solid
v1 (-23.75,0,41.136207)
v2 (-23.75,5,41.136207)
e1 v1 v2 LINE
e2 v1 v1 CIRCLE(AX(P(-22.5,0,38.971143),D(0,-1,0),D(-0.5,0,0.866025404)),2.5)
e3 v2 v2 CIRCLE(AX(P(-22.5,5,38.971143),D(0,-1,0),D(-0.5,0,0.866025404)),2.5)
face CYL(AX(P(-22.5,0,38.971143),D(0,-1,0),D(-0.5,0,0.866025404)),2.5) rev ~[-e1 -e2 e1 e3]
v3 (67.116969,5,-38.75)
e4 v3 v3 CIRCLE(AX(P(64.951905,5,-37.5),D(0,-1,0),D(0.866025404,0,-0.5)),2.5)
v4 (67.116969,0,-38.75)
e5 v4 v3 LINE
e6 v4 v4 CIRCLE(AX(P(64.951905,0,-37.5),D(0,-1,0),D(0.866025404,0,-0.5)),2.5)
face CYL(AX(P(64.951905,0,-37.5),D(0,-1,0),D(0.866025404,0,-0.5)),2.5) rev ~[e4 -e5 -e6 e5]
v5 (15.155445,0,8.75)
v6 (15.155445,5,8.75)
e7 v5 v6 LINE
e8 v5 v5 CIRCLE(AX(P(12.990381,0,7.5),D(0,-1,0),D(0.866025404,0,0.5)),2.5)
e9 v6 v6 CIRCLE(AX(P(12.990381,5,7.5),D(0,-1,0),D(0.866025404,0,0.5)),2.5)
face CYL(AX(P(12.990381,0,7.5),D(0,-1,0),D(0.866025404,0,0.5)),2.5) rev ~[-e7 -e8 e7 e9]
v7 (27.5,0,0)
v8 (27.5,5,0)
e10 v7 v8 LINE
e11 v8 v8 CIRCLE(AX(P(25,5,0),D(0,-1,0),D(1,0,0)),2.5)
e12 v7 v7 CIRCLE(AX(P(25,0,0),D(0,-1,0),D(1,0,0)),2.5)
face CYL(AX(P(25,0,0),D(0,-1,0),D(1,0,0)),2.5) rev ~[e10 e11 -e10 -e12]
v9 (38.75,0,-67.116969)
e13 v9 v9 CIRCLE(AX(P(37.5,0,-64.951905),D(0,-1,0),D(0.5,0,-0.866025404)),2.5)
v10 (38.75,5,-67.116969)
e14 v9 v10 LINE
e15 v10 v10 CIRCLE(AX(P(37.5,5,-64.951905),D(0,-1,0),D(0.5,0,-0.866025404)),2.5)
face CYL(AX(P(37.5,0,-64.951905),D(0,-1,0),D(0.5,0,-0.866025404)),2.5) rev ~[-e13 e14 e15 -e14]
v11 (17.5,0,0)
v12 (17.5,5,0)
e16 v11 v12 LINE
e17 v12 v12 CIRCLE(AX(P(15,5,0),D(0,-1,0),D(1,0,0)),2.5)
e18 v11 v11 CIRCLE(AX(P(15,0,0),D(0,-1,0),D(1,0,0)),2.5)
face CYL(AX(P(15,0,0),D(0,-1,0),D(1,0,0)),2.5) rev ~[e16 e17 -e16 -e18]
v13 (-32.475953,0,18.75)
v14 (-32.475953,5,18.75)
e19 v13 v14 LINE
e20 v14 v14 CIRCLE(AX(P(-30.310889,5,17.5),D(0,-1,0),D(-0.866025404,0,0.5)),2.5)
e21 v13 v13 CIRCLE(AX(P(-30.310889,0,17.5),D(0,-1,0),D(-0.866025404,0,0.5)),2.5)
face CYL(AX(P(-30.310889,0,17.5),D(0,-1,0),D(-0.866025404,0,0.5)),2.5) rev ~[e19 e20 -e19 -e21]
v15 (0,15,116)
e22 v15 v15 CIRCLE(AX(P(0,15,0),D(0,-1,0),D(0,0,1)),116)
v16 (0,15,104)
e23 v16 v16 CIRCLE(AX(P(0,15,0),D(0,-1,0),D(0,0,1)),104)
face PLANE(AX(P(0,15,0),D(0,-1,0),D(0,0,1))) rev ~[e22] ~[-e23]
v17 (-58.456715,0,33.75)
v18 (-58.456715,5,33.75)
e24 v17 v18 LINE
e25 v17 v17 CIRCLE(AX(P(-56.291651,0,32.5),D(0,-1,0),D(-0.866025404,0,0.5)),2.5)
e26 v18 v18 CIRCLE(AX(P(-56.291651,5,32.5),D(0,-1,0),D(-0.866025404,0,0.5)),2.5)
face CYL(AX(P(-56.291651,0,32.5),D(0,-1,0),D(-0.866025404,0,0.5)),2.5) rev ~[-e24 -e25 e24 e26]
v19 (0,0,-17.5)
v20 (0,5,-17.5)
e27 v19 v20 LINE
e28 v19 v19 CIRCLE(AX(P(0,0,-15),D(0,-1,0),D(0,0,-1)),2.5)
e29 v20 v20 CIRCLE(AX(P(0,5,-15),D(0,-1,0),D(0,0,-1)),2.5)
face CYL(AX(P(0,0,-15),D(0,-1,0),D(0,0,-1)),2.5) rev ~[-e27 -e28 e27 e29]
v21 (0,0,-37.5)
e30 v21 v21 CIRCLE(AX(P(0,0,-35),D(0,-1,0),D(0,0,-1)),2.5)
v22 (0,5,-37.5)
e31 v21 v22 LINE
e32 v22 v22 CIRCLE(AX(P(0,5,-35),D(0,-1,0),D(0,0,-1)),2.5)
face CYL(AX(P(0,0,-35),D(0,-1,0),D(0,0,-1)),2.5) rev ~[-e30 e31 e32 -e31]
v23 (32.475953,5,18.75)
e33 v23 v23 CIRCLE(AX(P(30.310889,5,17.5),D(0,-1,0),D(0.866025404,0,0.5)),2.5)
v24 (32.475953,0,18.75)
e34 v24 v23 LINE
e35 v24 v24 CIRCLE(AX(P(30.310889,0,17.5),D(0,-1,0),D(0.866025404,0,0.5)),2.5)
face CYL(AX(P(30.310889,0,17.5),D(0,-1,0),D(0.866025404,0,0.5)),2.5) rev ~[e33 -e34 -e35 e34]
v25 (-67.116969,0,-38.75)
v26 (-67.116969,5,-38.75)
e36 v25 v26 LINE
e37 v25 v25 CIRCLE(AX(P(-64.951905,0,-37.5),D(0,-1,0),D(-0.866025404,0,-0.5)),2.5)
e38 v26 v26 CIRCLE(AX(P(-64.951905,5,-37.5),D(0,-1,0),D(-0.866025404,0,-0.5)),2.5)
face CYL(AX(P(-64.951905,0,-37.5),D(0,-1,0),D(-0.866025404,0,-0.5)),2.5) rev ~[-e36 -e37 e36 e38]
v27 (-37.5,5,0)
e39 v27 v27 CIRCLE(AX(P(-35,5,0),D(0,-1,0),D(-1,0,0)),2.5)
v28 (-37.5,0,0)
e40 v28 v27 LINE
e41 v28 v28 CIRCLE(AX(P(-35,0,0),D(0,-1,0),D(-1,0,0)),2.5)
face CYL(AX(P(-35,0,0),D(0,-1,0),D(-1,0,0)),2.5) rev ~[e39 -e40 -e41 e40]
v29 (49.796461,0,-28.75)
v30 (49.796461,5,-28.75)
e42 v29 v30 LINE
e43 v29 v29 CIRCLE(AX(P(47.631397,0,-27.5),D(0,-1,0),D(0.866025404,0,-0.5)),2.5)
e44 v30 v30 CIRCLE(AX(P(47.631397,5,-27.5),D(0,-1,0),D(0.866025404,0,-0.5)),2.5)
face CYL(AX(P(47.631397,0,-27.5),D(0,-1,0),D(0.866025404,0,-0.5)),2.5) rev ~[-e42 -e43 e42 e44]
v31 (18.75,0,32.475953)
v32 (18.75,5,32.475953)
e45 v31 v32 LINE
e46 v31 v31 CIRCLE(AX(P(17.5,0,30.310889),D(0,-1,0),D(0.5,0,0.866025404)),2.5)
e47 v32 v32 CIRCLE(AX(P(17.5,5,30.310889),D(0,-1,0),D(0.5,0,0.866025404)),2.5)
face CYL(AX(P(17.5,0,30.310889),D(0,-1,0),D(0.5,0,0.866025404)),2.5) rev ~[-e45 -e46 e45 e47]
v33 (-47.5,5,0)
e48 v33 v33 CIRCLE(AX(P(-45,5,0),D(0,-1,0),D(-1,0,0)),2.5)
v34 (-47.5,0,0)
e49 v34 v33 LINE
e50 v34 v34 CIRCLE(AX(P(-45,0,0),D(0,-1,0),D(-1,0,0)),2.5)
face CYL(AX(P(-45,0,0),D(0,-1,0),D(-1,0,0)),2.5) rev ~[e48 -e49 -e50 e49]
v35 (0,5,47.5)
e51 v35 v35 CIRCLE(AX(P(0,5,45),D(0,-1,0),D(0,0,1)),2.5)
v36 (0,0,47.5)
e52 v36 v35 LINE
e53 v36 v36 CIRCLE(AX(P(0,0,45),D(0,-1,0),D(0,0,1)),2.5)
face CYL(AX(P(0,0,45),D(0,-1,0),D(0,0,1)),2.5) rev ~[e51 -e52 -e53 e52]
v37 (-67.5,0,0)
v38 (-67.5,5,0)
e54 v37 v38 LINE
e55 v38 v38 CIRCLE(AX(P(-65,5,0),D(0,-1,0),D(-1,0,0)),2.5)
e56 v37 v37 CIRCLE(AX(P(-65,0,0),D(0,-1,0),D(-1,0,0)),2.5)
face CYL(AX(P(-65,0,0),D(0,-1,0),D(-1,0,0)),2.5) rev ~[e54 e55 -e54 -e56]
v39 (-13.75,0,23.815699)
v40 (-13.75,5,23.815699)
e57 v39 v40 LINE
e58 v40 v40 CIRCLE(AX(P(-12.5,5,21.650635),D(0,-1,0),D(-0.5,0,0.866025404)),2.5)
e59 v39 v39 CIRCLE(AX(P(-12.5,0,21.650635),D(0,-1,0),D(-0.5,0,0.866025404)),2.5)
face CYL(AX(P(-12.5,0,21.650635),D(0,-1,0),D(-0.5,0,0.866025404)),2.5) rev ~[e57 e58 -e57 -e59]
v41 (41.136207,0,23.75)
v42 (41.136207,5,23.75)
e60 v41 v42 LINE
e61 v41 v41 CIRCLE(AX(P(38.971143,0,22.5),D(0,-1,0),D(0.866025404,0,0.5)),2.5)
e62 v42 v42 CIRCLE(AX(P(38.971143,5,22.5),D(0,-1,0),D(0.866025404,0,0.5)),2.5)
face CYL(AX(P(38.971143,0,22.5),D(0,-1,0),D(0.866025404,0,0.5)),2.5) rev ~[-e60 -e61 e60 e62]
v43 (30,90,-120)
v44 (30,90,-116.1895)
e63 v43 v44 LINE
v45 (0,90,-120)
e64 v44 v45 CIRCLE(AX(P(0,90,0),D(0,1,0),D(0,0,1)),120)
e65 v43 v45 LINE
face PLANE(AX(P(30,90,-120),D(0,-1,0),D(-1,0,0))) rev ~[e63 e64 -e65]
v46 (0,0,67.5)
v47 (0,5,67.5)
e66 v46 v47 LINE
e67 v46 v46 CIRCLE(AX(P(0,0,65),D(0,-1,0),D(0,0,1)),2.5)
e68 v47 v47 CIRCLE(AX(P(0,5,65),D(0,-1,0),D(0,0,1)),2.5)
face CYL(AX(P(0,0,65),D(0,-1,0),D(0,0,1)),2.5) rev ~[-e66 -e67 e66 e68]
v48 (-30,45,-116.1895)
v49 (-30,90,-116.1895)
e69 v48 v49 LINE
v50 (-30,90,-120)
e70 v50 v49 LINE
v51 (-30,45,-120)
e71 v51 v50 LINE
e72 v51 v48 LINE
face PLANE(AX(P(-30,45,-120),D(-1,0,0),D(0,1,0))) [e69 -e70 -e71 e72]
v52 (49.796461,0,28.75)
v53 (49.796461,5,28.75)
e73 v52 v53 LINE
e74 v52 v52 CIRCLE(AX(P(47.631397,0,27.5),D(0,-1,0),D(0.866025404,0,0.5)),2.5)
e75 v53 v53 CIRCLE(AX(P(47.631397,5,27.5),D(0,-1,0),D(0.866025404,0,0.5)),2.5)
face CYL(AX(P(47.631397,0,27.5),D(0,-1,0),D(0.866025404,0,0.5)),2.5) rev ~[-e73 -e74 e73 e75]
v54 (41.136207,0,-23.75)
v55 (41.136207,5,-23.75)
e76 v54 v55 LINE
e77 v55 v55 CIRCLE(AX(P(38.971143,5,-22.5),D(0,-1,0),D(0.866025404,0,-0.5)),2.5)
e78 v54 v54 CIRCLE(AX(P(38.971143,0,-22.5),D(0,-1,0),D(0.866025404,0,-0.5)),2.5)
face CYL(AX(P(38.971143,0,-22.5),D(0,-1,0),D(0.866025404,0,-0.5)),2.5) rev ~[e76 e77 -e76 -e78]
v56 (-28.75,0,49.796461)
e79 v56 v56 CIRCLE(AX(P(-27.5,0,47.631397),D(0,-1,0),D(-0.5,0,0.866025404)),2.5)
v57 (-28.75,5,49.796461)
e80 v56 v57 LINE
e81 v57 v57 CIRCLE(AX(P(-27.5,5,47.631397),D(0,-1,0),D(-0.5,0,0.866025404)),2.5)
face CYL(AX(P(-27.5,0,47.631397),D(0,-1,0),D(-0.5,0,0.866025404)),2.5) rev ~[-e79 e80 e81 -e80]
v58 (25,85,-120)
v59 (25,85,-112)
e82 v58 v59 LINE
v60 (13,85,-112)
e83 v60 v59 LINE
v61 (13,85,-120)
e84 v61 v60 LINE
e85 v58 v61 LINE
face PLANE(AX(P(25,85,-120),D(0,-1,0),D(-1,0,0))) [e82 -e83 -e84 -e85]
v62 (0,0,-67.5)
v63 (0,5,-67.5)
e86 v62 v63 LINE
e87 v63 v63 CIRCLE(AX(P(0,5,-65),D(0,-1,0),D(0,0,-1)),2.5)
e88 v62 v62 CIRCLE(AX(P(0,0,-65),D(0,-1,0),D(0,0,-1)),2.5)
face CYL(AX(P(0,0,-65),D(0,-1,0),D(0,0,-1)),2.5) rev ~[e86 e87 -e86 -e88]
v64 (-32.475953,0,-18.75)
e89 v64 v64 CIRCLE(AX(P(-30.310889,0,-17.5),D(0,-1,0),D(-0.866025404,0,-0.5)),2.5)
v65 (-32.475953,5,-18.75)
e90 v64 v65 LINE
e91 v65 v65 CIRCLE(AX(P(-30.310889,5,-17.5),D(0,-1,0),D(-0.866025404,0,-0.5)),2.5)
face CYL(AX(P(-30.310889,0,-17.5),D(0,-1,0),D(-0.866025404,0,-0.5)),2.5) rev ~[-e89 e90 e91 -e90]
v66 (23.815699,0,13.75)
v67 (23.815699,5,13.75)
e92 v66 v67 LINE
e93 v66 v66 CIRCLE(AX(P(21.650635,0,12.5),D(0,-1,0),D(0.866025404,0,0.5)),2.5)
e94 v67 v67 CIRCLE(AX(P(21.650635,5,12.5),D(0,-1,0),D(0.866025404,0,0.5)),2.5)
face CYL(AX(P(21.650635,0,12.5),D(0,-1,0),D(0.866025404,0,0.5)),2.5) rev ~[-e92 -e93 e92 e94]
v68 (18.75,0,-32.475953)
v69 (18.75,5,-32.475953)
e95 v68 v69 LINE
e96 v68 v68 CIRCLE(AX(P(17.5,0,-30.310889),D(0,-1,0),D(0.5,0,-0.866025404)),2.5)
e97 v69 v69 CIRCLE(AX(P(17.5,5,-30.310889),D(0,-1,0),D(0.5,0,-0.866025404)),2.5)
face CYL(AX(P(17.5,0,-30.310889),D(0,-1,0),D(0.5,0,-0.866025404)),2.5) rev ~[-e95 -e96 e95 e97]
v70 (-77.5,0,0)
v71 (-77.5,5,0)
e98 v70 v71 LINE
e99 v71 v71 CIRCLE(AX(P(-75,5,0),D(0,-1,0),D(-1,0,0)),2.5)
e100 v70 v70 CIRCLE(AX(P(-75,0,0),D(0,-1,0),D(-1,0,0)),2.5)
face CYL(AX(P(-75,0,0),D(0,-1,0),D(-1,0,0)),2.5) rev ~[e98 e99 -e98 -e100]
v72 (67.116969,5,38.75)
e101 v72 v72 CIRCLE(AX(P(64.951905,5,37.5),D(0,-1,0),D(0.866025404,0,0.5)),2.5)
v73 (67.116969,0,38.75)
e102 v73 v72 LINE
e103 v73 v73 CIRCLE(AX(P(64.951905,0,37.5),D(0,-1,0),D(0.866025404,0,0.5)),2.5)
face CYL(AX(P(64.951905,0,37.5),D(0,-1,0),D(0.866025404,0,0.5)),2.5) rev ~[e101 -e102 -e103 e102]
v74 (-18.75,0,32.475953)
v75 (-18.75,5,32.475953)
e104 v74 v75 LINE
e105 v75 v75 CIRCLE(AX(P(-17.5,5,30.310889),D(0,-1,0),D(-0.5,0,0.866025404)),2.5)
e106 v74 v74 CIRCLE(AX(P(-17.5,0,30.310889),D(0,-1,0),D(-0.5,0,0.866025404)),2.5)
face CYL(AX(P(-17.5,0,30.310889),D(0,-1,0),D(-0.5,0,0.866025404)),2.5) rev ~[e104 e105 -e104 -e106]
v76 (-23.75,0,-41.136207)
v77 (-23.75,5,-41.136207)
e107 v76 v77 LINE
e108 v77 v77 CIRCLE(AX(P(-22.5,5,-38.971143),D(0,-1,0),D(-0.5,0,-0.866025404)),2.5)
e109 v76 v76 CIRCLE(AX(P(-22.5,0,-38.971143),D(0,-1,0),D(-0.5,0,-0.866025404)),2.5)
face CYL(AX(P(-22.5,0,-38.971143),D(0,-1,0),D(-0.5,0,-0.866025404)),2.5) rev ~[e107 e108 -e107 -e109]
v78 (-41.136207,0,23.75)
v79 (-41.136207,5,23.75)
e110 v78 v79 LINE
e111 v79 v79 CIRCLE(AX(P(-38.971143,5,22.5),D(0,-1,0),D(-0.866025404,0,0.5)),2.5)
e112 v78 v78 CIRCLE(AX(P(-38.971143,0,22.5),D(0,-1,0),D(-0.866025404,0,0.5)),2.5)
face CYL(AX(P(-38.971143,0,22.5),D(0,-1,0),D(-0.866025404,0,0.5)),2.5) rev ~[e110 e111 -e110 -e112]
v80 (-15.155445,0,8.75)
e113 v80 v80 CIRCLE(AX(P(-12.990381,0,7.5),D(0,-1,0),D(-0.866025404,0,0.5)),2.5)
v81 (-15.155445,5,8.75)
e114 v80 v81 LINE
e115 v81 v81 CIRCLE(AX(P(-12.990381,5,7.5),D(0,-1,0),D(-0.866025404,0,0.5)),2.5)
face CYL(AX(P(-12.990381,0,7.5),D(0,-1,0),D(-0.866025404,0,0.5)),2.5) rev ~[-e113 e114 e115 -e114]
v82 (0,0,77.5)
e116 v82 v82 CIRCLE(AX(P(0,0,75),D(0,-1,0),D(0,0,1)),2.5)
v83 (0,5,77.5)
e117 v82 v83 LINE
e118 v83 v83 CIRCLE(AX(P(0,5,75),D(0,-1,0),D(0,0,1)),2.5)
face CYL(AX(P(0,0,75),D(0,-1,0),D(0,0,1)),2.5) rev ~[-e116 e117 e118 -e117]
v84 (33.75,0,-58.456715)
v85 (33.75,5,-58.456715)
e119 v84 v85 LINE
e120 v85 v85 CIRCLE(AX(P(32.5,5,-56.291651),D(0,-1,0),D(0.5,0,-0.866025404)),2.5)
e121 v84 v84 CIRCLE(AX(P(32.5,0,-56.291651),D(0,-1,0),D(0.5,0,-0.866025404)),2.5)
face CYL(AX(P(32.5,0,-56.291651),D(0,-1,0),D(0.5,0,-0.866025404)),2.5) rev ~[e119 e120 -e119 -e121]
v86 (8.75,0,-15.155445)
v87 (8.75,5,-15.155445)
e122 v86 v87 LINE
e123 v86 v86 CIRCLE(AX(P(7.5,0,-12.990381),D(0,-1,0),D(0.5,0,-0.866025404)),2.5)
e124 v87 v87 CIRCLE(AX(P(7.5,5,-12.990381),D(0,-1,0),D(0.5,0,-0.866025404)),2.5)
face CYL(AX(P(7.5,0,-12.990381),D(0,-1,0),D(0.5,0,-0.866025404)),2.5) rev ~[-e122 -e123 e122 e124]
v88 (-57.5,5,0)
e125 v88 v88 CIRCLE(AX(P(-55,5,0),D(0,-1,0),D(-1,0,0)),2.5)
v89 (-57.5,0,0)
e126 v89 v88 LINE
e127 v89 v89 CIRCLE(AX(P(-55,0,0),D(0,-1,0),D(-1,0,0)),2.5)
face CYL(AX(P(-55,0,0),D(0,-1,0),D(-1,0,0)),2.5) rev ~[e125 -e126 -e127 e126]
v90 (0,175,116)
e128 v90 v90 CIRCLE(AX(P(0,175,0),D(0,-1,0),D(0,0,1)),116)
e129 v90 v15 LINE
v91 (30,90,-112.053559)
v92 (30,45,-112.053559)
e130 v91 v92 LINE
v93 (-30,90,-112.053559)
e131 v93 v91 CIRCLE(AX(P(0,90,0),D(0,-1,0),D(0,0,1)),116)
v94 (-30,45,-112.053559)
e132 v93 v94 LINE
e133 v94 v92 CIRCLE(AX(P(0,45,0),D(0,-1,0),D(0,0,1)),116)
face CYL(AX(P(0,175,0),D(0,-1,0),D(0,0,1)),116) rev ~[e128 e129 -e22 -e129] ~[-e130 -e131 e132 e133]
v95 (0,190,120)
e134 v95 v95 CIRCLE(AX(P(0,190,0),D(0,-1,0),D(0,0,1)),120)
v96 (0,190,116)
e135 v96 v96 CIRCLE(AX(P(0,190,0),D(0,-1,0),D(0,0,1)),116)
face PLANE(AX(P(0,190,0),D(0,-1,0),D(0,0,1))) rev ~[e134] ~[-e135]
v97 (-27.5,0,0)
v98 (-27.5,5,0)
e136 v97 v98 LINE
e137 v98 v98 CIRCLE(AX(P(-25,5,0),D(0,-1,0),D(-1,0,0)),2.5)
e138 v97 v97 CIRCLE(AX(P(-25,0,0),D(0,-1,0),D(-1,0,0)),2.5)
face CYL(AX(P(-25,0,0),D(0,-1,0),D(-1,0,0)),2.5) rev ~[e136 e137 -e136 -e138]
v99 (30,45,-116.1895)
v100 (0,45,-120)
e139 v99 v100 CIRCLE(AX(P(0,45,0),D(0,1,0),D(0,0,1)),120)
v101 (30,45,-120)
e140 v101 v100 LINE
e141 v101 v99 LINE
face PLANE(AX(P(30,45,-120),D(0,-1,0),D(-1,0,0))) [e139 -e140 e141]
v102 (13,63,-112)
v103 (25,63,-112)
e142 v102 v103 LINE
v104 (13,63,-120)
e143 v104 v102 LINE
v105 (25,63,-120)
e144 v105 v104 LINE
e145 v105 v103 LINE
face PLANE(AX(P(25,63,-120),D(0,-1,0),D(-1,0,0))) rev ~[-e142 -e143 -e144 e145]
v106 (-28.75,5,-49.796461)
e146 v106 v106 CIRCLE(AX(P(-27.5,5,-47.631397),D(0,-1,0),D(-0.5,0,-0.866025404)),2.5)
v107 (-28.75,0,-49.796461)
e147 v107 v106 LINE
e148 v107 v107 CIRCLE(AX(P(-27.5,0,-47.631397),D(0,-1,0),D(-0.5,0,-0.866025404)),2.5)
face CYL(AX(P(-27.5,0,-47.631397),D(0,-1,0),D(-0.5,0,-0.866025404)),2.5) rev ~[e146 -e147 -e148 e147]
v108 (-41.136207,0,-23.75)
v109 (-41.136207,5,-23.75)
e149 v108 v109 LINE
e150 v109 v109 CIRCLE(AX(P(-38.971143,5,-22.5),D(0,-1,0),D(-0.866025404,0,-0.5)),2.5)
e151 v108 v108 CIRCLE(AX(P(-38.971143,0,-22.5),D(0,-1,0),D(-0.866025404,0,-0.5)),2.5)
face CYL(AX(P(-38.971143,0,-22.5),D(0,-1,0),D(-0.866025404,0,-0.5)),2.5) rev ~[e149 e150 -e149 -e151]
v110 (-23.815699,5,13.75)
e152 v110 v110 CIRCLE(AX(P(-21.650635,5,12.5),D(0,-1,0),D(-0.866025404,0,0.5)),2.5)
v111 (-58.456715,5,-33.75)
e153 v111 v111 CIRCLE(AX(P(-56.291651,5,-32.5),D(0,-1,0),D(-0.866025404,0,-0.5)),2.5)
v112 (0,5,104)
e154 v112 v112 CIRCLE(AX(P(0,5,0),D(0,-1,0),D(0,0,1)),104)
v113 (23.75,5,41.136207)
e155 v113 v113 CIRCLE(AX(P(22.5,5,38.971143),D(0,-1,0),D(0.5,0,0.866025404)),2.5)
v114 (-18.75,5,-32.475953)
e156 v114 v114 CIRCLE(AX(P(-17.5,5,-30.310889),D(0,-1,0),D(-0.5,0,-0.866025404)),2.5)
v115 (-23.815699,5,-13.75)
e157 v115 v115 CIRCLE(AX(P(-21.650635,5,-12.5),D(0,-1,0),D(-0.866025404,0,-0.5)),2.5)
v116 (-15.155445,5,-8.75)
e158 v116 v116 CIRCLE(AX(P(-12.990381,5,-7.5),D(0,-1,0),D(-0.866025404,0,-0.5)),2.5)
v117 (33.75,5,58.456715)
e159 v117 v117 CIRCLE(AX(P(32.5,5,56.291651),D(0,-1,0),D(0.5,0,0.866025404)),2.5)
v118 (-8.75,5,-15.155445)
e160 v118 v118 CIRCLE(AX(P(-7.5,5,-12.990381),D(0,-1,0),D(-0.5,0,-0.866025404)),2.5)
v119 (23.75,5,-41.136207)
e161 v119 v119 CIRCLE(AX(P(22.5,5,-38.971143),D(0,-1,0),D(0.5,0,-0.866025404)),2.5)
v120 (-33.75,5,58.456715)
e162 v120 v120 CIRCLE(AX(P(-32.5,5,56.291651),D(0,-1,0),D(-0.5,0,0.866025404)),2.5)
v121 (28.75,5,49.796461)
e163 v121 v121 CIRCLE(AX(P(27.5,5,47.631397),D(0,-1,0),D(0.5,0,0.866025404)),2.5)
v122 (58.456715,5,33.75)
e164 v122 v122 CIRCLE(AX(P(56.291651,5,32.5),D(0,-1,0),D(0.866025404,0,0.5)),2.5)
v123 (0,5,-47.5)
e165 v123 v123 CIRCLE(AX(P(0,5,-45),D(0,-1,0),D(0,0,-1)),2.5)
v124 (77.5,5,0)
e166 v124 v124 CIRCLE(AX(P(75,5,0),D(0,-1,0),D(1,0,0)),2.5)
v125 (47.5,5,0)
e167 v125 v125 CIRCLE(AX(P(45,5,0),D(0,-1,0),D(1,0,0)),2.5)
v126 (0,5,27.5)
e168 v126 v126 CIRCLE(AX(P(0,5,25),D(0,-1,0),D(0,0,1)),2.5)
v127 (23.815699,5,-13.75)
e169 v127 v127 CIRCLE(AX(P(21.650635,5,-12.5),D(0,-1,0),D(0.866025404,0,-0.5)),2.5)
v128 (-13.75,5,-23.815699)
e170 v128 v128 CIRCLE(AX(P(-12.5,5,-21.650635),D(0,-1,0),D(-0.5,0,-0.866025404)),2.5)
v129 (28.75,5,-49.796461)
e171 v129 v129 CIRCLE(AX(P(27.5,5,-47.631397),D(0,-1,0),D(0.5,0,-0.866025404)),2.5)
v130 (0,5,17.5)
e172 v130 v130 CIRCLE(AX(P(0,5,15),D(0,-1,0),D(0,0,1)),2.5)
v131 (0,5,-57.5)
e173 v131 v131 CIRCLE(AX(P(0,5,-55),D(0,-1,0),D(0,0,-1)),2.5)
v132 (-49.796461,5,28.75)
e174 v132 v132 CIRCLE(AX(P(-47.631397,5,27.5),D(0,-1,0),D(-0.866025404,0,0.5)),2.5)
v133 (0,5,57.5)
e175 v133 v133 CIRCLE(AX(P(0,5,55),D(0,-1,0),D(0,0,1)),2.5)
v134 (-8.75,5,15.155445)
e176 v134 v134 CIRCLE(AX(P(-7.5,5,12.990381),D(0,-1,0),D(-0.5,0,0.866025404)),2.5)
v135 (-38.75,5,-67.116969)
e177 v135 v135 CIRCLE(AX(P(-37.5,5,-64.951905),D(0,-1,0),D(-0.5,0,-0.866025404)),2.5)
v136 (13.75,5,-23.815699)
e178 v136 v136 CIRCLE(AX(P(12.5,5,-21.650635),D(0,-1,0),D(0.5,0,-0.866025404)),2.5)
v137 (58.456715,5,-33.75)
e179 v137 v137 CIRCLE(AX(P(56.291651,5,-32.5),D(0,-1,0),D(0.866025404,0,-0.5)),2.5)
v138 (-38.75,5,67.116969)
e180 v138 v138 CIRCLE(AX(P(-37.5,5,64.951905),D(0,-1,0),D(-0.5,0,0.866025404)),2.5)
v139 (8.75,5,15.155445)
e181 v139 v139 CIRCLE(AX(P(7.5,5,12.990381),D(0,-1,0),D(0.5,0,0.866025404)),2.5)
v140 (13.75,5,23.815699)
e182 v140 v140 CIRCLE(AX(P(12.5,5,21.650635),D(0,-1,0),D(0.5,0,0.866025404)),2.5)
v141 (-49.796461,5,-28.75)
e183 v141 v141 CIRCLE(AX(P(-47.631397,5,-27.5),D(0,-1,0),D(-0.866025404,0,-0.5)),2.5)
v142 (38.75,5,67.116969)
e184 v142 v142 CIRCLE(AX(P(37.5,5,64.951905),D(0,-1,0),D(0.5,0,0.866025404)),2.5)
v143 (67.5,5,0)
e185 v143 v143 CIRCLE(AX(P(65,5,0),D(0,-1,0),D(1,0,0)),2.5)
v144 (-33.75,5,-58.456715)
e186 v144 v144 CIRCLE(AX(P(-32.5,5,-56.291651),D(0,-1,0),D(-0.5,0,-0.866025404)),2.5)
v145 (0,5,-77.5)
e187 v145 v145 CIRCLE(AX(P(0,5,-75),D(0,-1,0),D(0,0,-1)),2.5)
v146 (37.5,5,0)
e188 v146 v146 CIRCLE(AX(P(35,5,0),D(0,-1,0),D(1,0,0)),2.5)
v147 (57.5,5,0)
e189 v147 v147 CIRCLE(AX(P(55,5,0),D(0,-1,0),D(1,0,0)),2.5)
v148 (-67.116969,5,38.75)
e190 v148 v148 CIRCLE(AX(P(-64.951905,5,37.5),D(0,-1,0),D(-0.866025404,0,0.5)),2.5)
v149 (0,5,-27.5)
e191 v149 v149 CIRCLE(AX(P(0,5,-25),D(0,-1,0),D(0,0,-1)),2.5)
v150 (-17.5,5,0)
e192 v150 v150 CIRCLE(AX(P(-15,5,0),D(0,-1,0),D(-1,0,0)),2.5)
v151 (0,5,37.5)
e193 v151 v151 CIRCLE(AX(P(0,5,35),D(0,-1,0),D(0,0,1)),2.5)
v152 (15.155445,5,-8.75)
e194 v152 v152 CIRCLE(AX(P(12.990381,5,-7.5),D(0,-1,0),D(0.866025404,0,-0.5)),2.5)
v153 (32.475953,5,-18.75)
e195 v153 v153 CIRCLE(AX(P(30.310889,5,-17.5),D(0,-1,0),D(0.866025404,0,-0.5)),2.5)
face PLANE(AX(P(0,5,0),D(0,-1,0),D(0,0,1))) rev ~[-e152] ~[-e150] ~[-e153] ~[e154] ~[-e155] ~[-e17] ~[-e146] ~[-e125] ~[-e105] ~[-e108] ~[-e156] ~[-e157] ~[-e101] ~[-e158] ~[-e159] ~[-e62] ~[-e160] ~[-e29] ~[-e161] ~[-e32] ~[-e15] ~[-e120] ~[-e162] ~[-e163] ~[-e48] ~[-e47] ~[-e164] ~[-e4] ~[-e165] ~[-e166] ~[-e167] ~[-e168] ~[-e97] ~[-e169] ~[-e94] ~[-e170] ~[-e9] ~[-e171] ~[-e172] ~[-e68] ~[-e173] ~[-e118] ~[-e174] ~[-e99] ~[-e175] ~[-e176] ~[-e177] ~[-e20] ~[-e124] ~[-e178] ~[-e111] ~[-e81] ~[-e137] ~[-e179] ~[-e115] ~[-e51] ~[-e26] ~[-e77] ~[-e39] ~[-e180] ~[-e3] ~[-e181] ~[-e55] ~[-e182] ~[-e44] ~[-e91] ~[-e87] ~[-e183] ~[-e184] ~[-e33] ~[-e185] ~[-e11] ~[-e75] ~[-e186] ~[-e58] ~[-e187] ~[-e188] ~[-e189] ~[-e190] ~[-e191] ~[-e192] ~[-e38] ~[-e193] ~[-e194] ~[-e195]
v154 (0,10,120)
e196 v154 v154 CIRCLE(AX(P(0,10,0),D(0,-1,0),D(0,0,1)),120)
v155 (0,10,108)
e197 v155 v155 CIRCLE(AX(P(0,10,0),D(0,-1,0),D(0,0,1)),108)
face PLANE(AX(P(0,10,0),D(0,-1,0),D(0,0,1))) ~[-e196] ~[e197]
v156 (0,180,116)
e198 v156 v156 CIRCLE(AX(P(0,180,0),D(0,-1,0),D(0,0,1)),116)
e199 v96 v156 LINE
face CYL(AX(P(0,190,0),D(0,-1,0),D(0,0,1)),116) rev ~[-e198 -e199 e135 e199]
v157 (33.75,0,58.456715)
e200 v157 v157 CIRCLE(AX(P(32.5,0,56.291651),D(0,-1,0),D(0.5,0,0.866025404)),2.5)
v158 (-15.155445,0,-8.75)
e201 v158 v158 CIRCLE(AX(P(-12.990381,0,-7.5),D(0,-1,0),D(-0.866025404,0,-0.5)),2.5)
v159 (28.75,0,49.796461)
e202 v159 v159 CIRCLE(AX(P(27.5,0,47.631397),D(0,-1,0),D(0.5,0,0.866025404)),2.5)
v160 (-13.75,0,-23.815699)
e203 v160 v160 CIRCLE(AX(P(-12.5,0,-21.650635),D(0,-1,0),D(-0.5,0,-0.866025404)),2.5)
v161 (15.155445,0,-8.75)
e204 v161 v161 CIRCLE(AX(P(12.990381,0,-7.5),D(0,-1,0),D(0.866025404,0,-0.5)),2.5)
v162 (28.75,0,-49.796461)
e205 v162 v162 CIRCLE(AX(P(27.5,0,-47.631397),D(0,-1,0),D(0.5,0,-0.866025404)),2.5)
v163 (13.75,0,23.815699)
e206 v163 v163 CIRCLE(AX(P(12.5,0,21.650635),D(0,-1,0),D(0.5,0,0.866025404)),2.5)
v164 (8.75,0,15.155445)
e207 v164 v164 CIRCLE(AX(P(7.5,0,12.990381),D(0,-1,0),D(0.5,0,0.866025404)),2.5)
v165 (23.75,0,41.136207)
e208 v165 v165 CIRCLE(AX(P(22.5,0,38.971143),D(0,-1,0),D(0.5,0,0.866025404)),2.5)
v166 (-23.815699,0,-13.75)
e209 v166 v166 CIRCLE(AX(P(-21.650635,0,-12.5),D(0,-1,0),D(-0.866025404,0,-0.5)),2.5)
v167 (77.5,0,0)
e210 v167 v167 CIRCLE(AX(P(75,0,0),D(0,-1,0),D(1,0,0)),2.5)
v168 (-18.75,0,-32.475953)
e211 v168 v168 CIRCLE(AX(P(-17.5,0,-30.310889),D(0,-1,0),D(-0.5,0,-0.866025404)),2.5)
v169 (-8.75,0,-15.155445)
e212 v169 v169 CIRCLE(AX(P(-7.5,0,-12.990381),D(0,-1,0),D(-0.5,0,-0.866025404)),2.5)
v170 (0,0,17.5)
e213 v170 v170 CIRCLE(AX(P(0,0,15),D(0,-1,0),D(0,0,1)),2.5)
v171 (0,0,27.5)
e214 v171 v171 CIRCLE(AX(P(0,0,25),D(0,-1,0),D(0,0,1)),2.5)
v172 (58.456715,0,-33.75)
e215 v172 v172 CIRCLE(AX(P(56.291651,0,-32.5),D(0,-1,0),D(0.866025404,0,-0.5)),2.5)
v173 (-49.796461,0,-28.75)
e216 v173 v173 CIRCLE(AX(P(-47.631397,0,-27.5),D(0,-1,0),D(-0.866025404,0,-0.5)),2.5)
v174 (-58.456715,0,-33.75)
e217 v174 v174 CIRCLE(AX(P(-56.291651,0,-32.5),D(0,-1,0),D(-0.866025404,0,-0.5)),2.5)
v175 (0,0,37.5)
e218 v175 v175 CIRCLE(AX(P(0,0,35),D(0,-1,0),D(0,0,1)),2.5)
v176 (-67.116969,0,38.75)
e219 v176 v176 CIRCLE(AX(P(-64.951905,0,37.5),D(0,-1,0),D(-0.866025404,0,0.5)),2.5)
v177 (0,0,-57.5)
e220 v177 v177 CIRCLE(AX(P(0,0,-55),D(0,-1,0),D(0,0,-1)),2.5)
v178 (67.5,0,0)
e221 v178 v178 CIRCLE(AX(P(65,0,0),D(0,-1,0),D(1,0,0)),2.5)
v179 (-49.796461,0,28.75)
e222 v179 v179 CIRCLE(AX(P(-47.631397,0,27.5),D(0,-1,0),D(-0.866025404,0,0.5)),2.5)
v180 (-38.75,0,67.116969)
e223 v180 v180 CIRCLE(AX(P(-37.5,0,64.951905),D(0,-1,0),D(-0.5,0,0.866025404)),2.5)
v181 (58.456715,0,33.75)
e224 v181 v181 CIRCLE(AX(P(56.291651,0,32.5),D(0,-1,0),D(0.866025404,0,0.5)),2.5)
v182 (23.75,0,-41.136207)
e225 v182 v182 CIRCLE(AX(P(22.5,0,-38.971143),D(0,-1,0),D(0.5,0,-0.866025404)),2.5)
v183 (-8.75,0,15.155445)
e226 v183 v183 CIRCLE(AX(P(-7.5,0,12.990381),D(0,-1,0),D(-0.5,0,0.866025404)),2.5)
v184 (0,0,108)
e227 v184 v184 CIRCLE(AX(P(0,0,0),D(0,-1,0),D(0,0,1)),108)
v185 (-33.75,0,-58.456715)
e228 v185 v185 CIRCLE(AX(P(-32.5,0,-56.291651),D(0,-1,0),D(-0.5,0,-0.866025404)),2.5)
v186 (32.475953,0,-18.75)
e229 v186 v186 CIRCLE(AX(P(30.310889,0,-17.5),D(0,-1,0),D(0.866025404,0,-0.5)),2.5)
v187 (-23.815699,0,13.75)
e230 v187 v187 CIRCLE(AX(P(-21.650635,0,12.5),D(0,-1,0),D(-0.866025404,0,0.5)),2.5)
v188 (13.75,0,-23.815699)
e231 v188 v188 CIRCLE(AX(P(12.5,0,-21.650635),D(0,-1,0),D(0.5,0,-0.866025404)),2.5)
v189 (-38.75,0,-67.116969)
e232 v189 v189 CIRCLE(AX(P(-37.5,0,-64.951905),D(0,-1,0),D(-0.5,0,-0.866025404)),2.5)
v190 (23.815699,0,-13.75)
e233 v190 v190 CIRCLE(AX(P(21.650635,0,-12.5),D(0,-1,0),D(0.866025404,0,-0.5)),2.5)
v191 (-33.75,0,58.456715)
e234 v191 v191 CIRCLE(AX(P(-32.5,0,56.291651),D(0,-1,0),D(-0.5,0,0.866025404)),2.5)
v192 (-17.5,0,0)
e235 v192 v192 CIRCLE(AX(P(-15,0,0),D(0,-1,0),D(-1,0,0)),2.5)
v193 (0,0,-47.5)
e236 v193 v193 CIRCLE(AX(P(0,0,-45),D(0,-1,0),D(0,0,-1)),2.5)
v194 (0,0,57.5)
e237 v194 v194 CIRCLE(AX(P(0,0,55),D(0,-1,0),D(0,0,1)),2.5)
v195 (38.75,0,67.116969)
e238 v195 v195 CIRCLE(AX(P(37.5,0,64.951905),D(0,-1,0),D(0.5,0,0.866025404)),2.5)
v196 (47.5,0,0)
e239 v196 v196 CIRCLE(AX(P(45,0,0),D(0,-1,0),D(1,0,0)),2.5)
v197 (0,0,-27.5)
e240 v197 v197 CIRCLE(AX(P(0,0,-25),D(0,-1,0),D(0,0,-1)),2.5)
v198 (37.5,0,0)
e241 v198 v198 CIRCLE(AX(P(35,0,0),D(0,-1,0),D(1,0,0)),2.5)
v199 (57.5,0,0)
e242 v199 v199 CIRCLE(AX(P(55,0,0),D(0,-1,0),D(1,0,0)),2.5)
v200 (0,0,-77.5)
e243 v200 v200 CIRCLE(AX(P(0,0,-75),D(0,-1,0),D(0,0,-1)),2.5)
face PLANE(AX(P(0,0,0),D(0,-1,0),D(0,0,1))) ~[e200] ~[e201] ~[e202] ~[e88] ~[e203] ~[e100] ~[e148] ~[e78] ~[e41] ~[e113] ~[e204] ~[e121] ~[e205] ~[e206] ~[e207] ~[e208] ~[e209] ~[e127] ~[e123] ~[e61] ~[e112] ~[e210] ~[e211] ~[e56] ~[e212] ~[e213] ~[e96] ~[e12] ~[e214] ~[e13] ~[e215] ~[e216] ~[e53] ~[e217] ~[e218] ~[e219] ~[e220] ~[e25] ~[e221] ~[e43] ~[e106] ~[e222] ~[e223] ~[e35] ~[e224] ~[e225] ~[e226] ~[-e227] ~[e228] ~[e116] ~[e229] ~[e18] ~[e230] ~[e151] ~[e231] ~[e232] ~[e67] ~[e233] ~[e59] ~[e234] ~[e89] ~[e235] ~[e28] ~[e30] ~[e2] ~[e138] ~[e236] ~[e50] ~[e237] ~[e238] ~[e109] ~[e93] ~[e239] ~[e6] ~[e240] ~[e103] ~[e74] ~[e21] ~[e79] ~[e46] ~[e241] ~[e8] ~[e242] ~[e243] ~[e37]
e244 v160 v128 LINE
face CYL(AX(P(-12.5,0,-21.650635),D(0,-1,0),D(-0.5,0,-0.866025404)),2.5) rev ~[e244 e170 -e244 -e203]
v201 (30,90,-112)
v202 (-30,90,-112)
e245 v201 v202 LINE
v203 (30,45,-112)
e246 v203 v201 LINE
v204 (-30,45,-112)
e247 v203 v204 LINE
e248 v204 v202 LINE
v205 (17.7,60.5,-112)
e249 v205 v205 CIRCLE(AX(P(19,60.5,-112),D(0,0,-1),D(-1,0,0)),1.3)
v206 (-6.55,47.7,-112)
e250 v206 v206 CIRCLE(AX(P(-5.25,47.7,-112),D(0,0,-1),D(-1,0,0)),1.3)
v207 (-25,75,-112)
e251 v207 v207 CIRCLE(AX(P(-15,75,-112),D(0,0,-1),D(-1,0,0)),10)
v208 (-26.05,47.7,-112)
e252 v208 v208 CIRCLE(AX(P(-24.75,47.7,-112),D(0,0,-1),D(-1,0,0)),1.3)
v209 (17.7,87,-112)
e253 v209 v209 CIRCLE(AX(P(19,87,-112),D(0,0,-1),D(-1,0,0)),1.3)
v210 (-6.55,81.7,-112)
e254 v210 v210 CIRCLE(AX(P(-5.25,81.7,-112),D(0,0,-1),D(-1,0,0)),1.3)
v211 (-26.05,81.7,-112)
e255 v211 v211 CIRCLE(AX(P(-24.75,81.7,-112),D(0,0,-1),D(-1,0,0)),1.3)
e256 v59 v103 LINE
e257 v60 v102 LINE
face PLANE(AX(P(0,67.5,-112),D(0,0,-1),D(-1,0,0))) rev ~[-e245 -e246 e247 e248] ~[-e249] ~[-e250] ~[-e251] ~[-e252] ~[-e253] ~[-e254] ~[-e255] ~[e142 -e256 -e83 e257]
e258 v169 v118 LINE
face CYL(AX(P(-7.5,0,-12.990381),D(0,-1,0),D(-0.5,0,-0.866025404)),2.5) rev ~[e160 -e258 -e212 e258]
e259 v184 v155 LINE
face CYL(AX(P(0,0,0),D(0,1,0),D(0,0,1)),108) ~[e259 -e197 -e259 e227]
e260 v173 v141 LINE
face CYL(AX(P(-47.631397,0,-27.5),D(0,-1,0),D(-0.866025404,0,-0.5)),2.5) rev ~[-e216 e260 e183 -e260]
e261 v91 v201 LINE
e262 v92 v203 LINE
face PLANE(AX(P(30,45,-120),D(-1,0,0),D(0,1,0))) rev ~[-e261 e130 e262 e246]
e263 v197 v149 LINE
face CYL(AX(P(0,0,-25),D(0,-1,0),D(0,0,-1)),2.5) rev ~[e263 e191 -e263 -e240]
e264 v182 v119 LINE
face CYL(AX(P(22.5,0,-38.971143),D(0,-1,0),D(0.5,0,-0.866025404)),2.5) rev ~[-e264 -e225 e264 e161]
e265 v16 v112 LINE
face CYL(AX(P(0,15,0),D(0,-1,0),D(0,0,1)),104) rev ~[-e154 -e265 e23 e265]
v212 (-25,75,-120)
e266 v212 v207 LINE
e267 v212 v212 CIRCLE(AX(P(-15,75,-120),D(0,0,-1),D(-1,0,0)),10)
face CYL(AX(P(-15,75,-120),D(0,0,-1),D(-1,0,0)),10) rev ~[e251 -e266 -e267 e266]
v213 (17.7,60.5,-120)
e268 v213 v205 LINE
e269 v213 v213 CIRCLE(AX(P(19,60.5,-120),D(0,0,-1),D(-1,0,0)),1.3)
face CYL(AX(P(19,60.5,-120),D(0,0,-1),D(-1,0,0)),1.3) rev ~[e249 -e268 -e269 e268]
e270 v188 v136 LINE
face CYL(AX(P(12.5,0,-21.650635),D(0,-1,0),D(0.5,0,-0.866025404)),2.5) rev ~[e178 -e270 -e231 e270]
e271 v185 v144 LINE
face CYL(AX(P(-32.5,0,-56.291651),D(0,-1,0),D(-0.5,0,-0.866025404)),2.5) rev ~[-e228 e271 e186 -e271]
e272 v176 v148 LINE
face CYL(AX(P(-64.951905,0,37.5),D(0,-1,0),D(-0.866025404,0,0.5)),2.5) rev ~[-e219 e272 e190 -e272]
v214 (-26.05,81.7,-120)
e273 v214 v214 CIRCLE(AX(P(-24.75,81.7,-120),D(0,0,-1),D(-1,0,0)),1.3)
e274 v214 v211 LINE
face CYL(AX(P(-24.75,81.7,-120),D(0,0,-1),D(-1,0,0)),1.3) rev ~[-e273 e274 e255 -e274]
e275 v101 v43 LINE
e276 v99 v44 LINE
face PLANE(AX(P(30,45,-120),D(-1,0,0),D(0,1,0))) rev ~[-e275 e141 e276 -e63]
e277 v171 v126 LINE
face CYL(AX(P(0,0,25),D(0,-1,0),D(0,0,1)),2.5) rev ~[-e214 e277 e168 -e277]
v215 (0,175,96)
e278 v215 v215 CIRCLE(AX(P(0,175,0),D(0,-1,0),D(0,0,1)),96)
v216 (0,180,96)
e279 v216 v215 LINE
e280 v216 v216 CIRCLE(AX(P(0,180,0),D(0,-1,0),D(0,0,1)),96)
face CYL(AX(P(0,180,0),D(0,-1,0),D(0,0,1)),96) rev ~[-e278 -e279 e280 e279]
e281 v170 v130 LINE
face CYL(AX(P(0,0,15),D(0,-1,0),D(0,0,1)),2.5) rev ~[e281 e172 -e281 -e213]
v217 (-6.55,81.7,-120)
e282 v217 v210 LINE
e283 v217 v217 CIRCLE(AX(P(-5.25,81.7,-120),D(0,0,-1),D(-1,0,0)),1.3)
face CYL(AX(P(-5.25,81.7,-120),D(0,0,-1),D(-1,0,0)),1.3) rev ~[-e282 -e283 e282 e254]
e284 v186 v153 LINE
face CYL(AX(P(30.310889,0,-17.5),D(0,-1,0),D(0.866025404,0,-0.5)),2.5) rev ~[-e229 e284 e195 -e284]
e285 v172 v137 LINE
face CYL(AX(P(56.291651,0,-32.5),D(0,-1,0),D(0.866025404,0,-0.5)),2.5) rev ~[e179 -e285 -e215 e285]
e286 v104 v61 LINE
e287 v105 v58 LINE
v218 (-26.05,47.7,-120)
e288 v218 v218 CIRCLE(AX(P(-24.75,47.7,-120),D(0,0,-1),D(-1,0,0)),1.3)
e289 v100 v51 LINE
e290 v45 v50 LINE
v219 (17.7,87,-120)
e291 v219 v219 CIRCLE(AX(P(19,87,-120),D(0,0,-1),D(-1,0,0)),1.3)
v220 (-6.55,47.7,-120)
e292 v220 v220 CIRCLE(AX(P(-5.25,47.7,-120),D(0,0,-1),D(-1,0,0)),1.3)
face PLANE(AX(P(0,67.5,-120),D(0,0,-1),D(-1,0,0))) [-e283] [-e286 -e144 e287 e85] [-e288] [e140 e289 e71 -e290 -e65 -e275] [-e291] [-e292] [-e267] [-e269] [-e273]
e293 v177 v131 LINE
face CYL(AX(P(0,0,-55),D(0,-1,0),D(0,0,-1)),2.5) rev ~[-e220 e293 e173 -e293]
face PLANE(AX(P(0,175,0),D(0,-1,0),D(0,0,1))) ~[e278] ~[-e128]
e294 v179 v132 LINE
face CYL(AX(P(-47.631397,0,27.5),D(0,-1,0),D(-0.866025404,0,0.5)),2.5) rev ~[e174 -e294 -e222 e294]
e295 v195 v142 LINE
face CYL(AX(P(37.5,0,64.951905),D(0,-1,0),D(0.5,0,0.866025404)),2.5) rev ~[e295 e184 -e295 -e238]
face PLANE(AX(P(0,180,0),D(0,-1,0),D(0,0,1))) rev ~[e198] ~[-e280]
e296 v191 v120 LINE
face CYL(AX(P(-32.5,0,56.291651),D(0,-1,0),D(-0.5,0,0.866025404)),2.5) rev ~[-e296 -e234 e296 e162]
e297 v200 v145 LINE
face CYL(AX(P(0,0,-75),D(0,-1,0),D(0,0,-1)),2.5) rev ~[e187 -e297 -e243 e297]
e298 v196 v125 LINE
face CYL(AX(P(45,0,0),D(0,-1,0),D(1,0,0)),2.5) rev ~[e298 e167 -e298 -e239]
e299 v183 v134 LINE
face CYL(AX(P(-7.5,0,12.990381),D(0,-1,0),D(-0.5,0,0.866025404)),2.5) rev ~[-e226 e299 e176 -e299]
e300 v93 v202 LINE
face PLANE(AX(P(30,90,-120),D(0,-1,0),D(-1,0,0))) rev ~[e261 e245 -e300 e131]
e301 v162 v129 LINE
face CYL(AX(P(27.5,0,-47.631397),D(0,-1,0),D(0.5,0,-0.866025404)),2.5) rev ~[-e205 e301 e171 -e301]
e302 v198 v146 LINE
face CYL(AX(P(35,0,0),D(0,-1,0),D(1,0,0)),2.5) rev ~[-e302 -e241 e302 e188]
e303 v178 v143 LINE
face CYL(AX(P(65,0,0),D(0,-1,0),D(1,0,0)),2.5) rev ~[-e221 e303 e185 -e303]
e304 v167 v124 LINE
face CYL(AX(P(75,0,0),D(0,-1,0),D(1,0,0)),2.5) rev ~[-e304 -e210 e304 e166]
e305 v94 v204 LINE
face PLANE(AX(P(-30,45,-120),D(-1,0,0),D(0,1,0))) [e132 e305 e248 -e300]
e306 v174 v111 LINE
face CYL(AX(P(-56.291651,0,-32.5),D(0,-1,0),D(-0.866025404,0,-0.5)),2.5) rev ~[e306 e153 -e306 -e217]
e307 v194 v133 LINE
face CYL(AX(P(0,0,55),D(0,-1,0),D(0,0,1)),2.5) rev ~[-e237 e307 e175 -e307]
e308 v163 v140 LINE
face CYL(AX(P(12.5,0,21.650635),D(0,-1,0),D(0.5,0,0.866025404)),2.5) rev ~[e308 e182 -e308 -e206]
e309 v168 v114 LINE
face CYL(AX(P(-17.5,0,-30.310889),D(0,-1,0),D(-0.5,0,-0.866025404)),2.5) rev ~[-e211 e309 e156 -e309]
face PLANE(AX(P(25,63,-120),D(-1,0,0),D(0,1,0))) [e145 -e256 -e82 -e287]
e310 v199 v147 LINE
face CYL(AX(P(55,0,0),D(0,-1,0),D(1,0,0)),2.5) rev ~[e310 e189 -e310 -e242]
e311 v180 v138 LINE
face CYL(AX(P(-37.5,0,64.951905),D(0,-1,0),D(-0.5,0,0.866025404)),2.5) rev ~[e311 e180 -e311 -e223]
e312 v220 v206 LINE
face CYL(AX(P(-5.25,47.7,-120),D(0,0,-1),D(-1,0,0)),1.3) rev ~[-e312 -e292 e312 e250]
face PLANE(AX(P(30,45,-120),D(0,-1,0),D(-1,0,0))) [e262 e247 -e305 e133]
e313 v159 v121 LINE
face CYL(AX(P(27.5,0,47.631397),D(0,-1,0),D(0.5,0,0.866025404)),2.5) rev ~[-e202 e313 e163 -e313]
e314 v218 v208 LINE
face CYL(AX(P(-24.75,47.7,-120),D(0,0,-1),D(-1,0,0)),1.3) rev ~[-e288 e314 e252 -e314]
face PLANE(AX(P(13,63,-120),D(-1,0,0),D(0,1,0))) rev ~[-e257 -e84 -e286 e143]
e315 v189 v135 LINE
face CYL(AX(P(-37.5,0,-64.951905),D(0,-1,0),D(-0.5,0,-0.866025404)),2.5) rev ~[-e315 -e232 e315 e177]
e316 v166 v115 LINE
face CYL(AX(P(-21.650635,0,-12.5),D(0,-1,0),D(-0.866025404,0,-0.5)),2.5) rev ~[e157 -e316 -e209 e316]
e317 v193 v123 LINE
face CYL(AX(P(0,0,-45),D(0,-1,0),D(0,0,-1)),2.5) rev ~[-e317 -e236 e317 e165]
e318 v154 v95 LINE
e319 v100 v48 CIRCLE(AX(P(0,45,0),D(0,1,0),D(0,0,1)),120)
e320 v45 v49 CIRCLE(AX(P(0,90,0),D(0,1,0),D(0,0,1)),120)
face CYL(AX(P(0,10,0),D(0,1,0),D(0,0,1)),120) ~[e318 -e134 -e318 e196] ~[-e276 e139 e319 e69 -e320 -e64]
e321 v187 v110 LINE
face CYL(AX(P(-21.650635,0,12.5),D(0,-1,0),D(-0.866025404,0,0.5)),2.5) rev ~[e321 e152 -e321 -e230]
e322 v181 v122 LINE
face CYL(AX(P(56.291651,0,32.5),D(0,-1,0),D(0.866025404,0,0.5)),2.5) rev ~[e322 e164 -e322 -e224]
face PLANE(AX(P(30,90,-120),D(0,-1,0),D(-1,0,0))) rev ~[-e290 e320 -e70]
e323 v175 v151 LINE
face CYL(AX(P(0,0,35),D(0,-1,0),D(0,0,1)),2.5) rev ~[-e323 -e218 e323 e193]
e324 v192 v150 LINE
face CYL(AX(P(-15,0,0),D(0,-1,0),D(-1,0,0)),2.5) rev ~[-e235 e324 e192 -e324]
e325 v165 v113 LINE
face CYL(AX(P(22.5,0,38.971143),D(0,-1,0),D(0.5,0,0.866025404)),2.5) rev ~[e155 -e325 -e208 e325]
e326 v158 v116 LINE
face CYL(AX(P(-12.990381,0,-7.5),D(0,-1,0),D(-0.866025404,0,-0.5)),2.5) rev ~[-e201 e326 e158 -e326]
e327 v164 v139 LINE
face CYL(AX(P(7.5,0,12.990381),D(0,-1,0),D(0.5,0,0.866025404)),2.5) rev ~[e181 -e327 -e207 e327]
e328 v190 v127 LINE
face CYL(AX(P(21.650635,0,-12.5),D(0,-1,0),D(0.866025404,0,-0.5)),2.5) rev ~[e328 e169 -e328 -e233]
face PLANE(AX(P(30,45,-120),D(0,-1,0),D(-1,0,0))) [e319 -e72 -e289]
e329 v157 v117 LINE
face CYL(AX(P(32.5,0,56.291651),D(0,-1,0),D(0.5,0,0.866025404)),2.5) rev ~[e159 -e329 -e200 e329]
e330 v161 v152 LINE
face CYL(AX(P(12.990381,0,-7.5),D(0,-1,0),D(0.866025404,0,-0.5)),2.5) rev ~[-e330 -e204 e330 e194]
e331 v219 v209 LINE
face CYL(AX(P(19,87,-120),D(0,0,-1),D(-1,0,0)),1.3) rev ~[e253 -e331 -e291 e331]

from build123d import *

# Parameters (mm, degrees)
CUT_EXTRUDE_1_REACH      = 256.755
SKETCH_2_R               = 2.5
PATTERN_CIRCULAR_1_COUNT = 12
SKETCH_3_W               = 60
SKETCH_3_H               = 45
EXTRUDE_1_DEPTH          = 8
CUT_EXTRUDE_2_REACH      = 330.786
SKETCH_4_R               = 10
SKETCH_4_R_2             = 1.3
CUT_EXTRUDE_3_REACH      = 330.786
SKETCH_5_R               = 1.3
SKETCH_5_W               = 12
SKETCH_5_H               = 22


with BuildPart() as part:
    # 草圖1 → 旋轉1 (revolve)
    with BuildSketch(Plane(origin=(0, 0, 0), x_dir=(0, 0, -1), z_dir=(1, 0, 0))):
        Polygon((0, 0), (108, 0), (108, 10), (120, 10), (120, 190), (116, 190), (116, 180), (96, 180), (96, 175), (116, 175), (116, 15), (104, 15), (104, 5), (0, 5), align=None)
    revolve(axis=Axis((0, 5, 0), (0, -1, 0)))

    # 草圖2 → 除料-伸長1 (cut, up to next)
    with BuildSketch(Plane.XZ, mode=Mode.PRIVATE) as cut_extrude_1_sk1:
        with Locations((0, -15)):
            Circle(SKETCH_2_R)
    cut_extrude_1_tool1 = extrude(cut_extrude_1_sk1.sketch, amount=-CUT_EXTRUDE_1_REACH, mode=Mode.PRIVATE) & part.part
    # 草圖2 → 除料-伸長1 (cut, up to next)
    with BuildSketch(Plane.XZ, mode=Mode.PRIVATE) as cut_extrude_1_sk2:
        with Locations((0, -25)):
            Circle(SKETCH_2_R)
    cut_extrude_1_tool2 = extrude(cut_extrude_1_sk2.sketch, amount=-CUT_EXTRUDE_1_REACH, mode=Mode.PRIVATE) & part.part
    # 草圖2 → 除料-伸長1 (cut, up to next)
    with BuildSketch(Plane.XZ, mode=Mode.PRIVATE) as cut_extrude_1_sk3:
        with Locations((0, -35)):
            Circle(SKETCH_2_R)
    cut_extrude_1_tool3 = extrude(cut_extrude_1_sk3.sketch, amount=-CUT_EXTRUDE_1_REACH, mode=Mode.PRIVATE) & part.part
    # 草圖2 → 除料-伸長1 (cut, up to next)
    with BuildSketch(Plane.XZ, mode=Mode.PRIVATE) as cut_extrude_1_sk4:
        with Locations((0, -45)):
            Circle(SKETCH_2_R)
    cut_extrude_1_tool4 = extrude(cut_extrude_1_sk4.sketch, amount=-CUT_EXTRUDE_1_REACH, mode=Mode.PRIVATE) & part.part
    # 草圖2 → 除料-伸長1 (cut, up to next)
    with BuildSketch(Plane.XZ, mode=Mode.PRIVATE) as cut_extrude_1_sk5:
        with Locations((0, -55)):
            Circle(SKETCH_2_R)
    cut_extrude_1_tool5 = extrude(cut_extrude_1_sk5.sketch, amount=-CUT_EXTRUDE_1_REACH, mode=Mode.PRIVATE) & part.part
    # 草圖2 → 除料-伸長1 (cut, up to next)
    with BuildSketch(Plane.XZ, mode=Mode.PRIVATE) as cut_extrude_1_sk6:
        with Locations((0, -65)):
            Circle(SKETCH_2_R)
    cut_extrude_1_tool6 = extrude(cut_extrude_1_sk6.sketch, amount=-CUT_EXTRUDE_1_REACH, mode=Mode.PRIVATE) & part.part
    # 草圖2 → 除料-伸長1 (cut, up to next)
    with BuildSketch(Plane.XZ, mode=Mode.PRIVATE) as cut_extrude_1_sk7:
        with Locations((0, -75)):
            Circle(SKETCH_2_R)
    cut_extrude_1_tool7 = extrude(cut_extrude_1_sk7.sketch, amount=-CUT_EXTRUDE_1_REACH, mode=Mode.PRIVATE) & part.part
    cut_extrude_1_1 = cut_extrude_1_tool1.solids().sort_by_distance((0, 0, -15))[0]
    add(cut_extrude_1_1, mode=Mode.SUBTRACT)
    cut_extrude_1_2 = cut_extrude_1_tool2.solids().sort_by_distance((0, 0, -25))[0]
    add(cut_extrude_1_2, mode=Mode.SUBTRACT)
    cut_extrude_1_3 = cut_extrude_1_tool3.solids().sort_by_distance((0, 0, -35))[0]
    add(cut_extrude_1_3, mode=Mode.SUBTRACT)
    cut_extrude_1_4 = cut_extrude_1_tool4.solids().sort_by_distance((0, 0, -45))[0]
    add(cut_extrude_1_4, mode=Mode.SUBTRACT)
    cut_extrude_1_5 = cut_extrude_1_tool5.solids().sort_by_distance((0, 0, -55))[0]
    add(cut_extrude_1_5, mode=Mode.SUBTRACT)
    cut_extrude_1_6 = cut_extrude_1_tool6.solids().sort_by_distance((0, 0, -65))[0]
    add(cut_extrude_1_6, mode=Mode.SUBTRACT)
    cut_extrude_1_7 = cut_extrude_1_tool7.solids().sort_by_distance((0, 0, -75))[0]
    add(cut_extrude_1_7, mode=Mode.SUBTRACT)
    cut_extrude_1 = cut_extrude_1_1 + cut_extrude_1_2 + cut_extrude_1_3 + cut_extrude_1_4 + cut_extrude_1_5 + cut_extrude_1_6 + cut_extrude_1_7  # 除料-伸長1 as one shape, for the pattern or mirror that repeats it

    # 環狀複製排列1: 除料-伸長1 ×12 about axis
    pattern_circular_1_axis = Axis((0, 15, 0), (0, 1, 0))
    for i in range(1, PATTERN_CIRCULAR_1_COUNT):
        add(cut_extrude_1.rotate(pattern_circular_1_axis, i * 360 / PATTERN_CIRCULAR_1_COUNT), mode=Mode.SUBTRACT)

    # 草圖3 → 填料-伸長1 (add)
    with BuildSketch(Plane(origin=(0, 0, -120), x_dir=(-1, 0, 0), z_dir=(0, 0, -1))):
        with Locations((0, 67.5)):
            Rectangle(SKETCH_3_W, SKETCH_3_H)
    extrude(amount=-EXTRUDE_1_DEPTH)

    # 草圖4 → 除料-伸長2 (cut, up to next)
    with BuildSketch(Plane(origin=(0, 0, -120), x_dir=(-1, 0, 0), z_dir=(0, 0, -1)), mode=Mode.PRIVATE) as cut_extrude_2_sk1:
        with Locations((15, 75)):
            Circle(SKETCH_4_R)
    cut_extrude_2_tool1 = extrude(cut_extrude_2_sk1.sketch, amount=-CUT_EXTRUDE_2_REACH, mode=Mode.PRIVATE) & part.part
    # 草圖4 → 除料-伸長2 (cut, up to next)
    with BuildSketch(Plane(origin=(0, 0, -120), x_dir=(-1, 0, 0), z_dir=(0, 0, -1)), mode=Mode.PRIVATE) as cut_extrude_2_sk2:
        with Locations((24.75, 81.7)):
            Circle(SKETCH_4_R_2)
    cut_extrude_2_tool2 = extrude(cut_extrude_2_sk2.sketch, amount=-CUT_EXTRUDE_2_REACH, mode=Mode.PRIVATE) & part.part
    # 草圖4 → 除料-伸長2 (cut, up to next)
    with BuildSketch(Plane(origin=(0, 0, -120), x_dir=(-1, 0, 0), z_dir=(0, 0, -1)), mode=Mode.PRIVATE) as cut_extrude_2_sk3:
        with Locations((5.25, 81.7)):
            Circle(SKETCH_4_R_2)
    cut_extrude_2_tool3 = extrude(cut_extrude_2_sk3.sketch, amount=-CUT_EXTRUDE_2_REACH, mode=Mode.PRIVATE) & part.part
    # 草圖4 → 除料-伸長2 (cut, up to next)
    with BuildSketch(Plane(origin=(0, 0, -120), x_dir=(-1, 0, 0), z_dir=(0, 0, -1)), mode=Mode.PRIVATE) as cut_extrude_2_sk4:
        with Locations((5.25, 47.7)):
            Circle(SKETCH_4_R_2)
    cut_extrude_2_tool4 = extrude(cut_extrude_2_sk4.sketch, amount=-CUT_EXTRUDE_2_REACH, mode=Mode.PRIVATE) & part.part
    # 草圖4 → 除料-伸長2 (cut, up to next)
    with BuildSketch(Plane(origin=(0, 0, -120), x_dir=(-1, 0, 0), z_dir=(0, 0, -1)), mode=Mode.PRIVATE) as cut_extrude_2_sk5:
        with Locations((24.75, 47.7)):
            Circle(SKETCH_4_R_2)
    cut_extrude_2_tool5 = extrude(cut_extrude_2_sk5.sketch, amount=-CUT_EXTRUDE_2_REACH, mode=Mode.PRIVATE) & part.part
    add(cut_extrude_2_tool1.solids().sort_by_distance((-15, 75, -120))[0], mode=Mode.SUBTRACT)
    add(cut_extrude_2_tool2.solids().sort_by_distance((-24.75, 81.7, -120))[0], mode=Mode.SUBTRACT)
    add(cut_extrude_2_tool3.solids().sort_by_distance((-5.25, 81.7, -120))[0], mode=Mode.SUBTRACT)
    add(cut_extrude_2_tool4.solids().sort_by_distance((-5.25, 47.7, -120))[0], mode=Mode.SUBTRACT)
    add(cut_extrude_2_tool5.solids().sort_by_distance((-24.75, 47.7, -120))[0], mode=Mode.SUBTRACT)

    # 草圖5 → 除料-伸長3 (cut, up to next)
    with BuildSketch(Plane(origin=(0, 0, -120), x_dir=(-1, 0, 0), z_dir=(0, 0, -1)), mode=Mode.PRIVATE) as cut_extrude_3_sk1:
        with Locations((-19, 87)):
            Circle(SKETCH_5_R)
    cut_extrude_3_tool1 = extrude(cut_extrude_3_sk1.sketch, amount=-CUT_EXTRUDE_3_REACH, mode=Mode.PRIVATE) & part.part
    # 草圖5 → 除料-伸長3 (cut, up to next)
    with BuildSketch(Plane(origin=(0, 0, -120), x_dir=(-1, 0, 0), z_dir=(0, 0, -1)), mode=Mode.PRIVATE) as cut_extrude_3_sk2:
        with Locations((-19, 60.5)):
            Circle(SKETCH_5_R)
    cut_extrude_3_tool2 = extrude(cut_extrude_3_sk2.sketch, amount=-CUT_EXTRUDE_3_REACH, mode=Mode.PRIVATE) & part.part
    # 草圖5 → 除料-伸長3 (cut, up to next)
    with BuildSketch(Plane(origin=(0, 0, -120), x_dir=(-1, 0, 0), z_dir=(0, 0, -1)), mode=Mode.PRIVATE) as cut_extrude_3_sk3:
        with Locations((-19, 74)):
            Rectangle(SKETCH_5_W, SKETCH_5_H)
    cut_extrude_3_tool3 = extrude(cut_extrude_3_sk3.sketch, amount=-CUT_EXTRUDE_3_REACH, mode=Mode.PRIVATE) & part.part
    add(cut_extrude_3_tool1.solids().sort_by_distance((19, 87, -120))[0], mode=Mode.SUBTRACT)
    add(cut_extrude_3_tool2.solids().sort_by_distance((19, 60.5, -120))[0], mode=Mode.SUBTRACT)
    add(cut_extrude_3_tool3.solids().sort_by_distance((19, 74, -120))[0], mode=Mode.SUBTRACT)


solid = part.part
